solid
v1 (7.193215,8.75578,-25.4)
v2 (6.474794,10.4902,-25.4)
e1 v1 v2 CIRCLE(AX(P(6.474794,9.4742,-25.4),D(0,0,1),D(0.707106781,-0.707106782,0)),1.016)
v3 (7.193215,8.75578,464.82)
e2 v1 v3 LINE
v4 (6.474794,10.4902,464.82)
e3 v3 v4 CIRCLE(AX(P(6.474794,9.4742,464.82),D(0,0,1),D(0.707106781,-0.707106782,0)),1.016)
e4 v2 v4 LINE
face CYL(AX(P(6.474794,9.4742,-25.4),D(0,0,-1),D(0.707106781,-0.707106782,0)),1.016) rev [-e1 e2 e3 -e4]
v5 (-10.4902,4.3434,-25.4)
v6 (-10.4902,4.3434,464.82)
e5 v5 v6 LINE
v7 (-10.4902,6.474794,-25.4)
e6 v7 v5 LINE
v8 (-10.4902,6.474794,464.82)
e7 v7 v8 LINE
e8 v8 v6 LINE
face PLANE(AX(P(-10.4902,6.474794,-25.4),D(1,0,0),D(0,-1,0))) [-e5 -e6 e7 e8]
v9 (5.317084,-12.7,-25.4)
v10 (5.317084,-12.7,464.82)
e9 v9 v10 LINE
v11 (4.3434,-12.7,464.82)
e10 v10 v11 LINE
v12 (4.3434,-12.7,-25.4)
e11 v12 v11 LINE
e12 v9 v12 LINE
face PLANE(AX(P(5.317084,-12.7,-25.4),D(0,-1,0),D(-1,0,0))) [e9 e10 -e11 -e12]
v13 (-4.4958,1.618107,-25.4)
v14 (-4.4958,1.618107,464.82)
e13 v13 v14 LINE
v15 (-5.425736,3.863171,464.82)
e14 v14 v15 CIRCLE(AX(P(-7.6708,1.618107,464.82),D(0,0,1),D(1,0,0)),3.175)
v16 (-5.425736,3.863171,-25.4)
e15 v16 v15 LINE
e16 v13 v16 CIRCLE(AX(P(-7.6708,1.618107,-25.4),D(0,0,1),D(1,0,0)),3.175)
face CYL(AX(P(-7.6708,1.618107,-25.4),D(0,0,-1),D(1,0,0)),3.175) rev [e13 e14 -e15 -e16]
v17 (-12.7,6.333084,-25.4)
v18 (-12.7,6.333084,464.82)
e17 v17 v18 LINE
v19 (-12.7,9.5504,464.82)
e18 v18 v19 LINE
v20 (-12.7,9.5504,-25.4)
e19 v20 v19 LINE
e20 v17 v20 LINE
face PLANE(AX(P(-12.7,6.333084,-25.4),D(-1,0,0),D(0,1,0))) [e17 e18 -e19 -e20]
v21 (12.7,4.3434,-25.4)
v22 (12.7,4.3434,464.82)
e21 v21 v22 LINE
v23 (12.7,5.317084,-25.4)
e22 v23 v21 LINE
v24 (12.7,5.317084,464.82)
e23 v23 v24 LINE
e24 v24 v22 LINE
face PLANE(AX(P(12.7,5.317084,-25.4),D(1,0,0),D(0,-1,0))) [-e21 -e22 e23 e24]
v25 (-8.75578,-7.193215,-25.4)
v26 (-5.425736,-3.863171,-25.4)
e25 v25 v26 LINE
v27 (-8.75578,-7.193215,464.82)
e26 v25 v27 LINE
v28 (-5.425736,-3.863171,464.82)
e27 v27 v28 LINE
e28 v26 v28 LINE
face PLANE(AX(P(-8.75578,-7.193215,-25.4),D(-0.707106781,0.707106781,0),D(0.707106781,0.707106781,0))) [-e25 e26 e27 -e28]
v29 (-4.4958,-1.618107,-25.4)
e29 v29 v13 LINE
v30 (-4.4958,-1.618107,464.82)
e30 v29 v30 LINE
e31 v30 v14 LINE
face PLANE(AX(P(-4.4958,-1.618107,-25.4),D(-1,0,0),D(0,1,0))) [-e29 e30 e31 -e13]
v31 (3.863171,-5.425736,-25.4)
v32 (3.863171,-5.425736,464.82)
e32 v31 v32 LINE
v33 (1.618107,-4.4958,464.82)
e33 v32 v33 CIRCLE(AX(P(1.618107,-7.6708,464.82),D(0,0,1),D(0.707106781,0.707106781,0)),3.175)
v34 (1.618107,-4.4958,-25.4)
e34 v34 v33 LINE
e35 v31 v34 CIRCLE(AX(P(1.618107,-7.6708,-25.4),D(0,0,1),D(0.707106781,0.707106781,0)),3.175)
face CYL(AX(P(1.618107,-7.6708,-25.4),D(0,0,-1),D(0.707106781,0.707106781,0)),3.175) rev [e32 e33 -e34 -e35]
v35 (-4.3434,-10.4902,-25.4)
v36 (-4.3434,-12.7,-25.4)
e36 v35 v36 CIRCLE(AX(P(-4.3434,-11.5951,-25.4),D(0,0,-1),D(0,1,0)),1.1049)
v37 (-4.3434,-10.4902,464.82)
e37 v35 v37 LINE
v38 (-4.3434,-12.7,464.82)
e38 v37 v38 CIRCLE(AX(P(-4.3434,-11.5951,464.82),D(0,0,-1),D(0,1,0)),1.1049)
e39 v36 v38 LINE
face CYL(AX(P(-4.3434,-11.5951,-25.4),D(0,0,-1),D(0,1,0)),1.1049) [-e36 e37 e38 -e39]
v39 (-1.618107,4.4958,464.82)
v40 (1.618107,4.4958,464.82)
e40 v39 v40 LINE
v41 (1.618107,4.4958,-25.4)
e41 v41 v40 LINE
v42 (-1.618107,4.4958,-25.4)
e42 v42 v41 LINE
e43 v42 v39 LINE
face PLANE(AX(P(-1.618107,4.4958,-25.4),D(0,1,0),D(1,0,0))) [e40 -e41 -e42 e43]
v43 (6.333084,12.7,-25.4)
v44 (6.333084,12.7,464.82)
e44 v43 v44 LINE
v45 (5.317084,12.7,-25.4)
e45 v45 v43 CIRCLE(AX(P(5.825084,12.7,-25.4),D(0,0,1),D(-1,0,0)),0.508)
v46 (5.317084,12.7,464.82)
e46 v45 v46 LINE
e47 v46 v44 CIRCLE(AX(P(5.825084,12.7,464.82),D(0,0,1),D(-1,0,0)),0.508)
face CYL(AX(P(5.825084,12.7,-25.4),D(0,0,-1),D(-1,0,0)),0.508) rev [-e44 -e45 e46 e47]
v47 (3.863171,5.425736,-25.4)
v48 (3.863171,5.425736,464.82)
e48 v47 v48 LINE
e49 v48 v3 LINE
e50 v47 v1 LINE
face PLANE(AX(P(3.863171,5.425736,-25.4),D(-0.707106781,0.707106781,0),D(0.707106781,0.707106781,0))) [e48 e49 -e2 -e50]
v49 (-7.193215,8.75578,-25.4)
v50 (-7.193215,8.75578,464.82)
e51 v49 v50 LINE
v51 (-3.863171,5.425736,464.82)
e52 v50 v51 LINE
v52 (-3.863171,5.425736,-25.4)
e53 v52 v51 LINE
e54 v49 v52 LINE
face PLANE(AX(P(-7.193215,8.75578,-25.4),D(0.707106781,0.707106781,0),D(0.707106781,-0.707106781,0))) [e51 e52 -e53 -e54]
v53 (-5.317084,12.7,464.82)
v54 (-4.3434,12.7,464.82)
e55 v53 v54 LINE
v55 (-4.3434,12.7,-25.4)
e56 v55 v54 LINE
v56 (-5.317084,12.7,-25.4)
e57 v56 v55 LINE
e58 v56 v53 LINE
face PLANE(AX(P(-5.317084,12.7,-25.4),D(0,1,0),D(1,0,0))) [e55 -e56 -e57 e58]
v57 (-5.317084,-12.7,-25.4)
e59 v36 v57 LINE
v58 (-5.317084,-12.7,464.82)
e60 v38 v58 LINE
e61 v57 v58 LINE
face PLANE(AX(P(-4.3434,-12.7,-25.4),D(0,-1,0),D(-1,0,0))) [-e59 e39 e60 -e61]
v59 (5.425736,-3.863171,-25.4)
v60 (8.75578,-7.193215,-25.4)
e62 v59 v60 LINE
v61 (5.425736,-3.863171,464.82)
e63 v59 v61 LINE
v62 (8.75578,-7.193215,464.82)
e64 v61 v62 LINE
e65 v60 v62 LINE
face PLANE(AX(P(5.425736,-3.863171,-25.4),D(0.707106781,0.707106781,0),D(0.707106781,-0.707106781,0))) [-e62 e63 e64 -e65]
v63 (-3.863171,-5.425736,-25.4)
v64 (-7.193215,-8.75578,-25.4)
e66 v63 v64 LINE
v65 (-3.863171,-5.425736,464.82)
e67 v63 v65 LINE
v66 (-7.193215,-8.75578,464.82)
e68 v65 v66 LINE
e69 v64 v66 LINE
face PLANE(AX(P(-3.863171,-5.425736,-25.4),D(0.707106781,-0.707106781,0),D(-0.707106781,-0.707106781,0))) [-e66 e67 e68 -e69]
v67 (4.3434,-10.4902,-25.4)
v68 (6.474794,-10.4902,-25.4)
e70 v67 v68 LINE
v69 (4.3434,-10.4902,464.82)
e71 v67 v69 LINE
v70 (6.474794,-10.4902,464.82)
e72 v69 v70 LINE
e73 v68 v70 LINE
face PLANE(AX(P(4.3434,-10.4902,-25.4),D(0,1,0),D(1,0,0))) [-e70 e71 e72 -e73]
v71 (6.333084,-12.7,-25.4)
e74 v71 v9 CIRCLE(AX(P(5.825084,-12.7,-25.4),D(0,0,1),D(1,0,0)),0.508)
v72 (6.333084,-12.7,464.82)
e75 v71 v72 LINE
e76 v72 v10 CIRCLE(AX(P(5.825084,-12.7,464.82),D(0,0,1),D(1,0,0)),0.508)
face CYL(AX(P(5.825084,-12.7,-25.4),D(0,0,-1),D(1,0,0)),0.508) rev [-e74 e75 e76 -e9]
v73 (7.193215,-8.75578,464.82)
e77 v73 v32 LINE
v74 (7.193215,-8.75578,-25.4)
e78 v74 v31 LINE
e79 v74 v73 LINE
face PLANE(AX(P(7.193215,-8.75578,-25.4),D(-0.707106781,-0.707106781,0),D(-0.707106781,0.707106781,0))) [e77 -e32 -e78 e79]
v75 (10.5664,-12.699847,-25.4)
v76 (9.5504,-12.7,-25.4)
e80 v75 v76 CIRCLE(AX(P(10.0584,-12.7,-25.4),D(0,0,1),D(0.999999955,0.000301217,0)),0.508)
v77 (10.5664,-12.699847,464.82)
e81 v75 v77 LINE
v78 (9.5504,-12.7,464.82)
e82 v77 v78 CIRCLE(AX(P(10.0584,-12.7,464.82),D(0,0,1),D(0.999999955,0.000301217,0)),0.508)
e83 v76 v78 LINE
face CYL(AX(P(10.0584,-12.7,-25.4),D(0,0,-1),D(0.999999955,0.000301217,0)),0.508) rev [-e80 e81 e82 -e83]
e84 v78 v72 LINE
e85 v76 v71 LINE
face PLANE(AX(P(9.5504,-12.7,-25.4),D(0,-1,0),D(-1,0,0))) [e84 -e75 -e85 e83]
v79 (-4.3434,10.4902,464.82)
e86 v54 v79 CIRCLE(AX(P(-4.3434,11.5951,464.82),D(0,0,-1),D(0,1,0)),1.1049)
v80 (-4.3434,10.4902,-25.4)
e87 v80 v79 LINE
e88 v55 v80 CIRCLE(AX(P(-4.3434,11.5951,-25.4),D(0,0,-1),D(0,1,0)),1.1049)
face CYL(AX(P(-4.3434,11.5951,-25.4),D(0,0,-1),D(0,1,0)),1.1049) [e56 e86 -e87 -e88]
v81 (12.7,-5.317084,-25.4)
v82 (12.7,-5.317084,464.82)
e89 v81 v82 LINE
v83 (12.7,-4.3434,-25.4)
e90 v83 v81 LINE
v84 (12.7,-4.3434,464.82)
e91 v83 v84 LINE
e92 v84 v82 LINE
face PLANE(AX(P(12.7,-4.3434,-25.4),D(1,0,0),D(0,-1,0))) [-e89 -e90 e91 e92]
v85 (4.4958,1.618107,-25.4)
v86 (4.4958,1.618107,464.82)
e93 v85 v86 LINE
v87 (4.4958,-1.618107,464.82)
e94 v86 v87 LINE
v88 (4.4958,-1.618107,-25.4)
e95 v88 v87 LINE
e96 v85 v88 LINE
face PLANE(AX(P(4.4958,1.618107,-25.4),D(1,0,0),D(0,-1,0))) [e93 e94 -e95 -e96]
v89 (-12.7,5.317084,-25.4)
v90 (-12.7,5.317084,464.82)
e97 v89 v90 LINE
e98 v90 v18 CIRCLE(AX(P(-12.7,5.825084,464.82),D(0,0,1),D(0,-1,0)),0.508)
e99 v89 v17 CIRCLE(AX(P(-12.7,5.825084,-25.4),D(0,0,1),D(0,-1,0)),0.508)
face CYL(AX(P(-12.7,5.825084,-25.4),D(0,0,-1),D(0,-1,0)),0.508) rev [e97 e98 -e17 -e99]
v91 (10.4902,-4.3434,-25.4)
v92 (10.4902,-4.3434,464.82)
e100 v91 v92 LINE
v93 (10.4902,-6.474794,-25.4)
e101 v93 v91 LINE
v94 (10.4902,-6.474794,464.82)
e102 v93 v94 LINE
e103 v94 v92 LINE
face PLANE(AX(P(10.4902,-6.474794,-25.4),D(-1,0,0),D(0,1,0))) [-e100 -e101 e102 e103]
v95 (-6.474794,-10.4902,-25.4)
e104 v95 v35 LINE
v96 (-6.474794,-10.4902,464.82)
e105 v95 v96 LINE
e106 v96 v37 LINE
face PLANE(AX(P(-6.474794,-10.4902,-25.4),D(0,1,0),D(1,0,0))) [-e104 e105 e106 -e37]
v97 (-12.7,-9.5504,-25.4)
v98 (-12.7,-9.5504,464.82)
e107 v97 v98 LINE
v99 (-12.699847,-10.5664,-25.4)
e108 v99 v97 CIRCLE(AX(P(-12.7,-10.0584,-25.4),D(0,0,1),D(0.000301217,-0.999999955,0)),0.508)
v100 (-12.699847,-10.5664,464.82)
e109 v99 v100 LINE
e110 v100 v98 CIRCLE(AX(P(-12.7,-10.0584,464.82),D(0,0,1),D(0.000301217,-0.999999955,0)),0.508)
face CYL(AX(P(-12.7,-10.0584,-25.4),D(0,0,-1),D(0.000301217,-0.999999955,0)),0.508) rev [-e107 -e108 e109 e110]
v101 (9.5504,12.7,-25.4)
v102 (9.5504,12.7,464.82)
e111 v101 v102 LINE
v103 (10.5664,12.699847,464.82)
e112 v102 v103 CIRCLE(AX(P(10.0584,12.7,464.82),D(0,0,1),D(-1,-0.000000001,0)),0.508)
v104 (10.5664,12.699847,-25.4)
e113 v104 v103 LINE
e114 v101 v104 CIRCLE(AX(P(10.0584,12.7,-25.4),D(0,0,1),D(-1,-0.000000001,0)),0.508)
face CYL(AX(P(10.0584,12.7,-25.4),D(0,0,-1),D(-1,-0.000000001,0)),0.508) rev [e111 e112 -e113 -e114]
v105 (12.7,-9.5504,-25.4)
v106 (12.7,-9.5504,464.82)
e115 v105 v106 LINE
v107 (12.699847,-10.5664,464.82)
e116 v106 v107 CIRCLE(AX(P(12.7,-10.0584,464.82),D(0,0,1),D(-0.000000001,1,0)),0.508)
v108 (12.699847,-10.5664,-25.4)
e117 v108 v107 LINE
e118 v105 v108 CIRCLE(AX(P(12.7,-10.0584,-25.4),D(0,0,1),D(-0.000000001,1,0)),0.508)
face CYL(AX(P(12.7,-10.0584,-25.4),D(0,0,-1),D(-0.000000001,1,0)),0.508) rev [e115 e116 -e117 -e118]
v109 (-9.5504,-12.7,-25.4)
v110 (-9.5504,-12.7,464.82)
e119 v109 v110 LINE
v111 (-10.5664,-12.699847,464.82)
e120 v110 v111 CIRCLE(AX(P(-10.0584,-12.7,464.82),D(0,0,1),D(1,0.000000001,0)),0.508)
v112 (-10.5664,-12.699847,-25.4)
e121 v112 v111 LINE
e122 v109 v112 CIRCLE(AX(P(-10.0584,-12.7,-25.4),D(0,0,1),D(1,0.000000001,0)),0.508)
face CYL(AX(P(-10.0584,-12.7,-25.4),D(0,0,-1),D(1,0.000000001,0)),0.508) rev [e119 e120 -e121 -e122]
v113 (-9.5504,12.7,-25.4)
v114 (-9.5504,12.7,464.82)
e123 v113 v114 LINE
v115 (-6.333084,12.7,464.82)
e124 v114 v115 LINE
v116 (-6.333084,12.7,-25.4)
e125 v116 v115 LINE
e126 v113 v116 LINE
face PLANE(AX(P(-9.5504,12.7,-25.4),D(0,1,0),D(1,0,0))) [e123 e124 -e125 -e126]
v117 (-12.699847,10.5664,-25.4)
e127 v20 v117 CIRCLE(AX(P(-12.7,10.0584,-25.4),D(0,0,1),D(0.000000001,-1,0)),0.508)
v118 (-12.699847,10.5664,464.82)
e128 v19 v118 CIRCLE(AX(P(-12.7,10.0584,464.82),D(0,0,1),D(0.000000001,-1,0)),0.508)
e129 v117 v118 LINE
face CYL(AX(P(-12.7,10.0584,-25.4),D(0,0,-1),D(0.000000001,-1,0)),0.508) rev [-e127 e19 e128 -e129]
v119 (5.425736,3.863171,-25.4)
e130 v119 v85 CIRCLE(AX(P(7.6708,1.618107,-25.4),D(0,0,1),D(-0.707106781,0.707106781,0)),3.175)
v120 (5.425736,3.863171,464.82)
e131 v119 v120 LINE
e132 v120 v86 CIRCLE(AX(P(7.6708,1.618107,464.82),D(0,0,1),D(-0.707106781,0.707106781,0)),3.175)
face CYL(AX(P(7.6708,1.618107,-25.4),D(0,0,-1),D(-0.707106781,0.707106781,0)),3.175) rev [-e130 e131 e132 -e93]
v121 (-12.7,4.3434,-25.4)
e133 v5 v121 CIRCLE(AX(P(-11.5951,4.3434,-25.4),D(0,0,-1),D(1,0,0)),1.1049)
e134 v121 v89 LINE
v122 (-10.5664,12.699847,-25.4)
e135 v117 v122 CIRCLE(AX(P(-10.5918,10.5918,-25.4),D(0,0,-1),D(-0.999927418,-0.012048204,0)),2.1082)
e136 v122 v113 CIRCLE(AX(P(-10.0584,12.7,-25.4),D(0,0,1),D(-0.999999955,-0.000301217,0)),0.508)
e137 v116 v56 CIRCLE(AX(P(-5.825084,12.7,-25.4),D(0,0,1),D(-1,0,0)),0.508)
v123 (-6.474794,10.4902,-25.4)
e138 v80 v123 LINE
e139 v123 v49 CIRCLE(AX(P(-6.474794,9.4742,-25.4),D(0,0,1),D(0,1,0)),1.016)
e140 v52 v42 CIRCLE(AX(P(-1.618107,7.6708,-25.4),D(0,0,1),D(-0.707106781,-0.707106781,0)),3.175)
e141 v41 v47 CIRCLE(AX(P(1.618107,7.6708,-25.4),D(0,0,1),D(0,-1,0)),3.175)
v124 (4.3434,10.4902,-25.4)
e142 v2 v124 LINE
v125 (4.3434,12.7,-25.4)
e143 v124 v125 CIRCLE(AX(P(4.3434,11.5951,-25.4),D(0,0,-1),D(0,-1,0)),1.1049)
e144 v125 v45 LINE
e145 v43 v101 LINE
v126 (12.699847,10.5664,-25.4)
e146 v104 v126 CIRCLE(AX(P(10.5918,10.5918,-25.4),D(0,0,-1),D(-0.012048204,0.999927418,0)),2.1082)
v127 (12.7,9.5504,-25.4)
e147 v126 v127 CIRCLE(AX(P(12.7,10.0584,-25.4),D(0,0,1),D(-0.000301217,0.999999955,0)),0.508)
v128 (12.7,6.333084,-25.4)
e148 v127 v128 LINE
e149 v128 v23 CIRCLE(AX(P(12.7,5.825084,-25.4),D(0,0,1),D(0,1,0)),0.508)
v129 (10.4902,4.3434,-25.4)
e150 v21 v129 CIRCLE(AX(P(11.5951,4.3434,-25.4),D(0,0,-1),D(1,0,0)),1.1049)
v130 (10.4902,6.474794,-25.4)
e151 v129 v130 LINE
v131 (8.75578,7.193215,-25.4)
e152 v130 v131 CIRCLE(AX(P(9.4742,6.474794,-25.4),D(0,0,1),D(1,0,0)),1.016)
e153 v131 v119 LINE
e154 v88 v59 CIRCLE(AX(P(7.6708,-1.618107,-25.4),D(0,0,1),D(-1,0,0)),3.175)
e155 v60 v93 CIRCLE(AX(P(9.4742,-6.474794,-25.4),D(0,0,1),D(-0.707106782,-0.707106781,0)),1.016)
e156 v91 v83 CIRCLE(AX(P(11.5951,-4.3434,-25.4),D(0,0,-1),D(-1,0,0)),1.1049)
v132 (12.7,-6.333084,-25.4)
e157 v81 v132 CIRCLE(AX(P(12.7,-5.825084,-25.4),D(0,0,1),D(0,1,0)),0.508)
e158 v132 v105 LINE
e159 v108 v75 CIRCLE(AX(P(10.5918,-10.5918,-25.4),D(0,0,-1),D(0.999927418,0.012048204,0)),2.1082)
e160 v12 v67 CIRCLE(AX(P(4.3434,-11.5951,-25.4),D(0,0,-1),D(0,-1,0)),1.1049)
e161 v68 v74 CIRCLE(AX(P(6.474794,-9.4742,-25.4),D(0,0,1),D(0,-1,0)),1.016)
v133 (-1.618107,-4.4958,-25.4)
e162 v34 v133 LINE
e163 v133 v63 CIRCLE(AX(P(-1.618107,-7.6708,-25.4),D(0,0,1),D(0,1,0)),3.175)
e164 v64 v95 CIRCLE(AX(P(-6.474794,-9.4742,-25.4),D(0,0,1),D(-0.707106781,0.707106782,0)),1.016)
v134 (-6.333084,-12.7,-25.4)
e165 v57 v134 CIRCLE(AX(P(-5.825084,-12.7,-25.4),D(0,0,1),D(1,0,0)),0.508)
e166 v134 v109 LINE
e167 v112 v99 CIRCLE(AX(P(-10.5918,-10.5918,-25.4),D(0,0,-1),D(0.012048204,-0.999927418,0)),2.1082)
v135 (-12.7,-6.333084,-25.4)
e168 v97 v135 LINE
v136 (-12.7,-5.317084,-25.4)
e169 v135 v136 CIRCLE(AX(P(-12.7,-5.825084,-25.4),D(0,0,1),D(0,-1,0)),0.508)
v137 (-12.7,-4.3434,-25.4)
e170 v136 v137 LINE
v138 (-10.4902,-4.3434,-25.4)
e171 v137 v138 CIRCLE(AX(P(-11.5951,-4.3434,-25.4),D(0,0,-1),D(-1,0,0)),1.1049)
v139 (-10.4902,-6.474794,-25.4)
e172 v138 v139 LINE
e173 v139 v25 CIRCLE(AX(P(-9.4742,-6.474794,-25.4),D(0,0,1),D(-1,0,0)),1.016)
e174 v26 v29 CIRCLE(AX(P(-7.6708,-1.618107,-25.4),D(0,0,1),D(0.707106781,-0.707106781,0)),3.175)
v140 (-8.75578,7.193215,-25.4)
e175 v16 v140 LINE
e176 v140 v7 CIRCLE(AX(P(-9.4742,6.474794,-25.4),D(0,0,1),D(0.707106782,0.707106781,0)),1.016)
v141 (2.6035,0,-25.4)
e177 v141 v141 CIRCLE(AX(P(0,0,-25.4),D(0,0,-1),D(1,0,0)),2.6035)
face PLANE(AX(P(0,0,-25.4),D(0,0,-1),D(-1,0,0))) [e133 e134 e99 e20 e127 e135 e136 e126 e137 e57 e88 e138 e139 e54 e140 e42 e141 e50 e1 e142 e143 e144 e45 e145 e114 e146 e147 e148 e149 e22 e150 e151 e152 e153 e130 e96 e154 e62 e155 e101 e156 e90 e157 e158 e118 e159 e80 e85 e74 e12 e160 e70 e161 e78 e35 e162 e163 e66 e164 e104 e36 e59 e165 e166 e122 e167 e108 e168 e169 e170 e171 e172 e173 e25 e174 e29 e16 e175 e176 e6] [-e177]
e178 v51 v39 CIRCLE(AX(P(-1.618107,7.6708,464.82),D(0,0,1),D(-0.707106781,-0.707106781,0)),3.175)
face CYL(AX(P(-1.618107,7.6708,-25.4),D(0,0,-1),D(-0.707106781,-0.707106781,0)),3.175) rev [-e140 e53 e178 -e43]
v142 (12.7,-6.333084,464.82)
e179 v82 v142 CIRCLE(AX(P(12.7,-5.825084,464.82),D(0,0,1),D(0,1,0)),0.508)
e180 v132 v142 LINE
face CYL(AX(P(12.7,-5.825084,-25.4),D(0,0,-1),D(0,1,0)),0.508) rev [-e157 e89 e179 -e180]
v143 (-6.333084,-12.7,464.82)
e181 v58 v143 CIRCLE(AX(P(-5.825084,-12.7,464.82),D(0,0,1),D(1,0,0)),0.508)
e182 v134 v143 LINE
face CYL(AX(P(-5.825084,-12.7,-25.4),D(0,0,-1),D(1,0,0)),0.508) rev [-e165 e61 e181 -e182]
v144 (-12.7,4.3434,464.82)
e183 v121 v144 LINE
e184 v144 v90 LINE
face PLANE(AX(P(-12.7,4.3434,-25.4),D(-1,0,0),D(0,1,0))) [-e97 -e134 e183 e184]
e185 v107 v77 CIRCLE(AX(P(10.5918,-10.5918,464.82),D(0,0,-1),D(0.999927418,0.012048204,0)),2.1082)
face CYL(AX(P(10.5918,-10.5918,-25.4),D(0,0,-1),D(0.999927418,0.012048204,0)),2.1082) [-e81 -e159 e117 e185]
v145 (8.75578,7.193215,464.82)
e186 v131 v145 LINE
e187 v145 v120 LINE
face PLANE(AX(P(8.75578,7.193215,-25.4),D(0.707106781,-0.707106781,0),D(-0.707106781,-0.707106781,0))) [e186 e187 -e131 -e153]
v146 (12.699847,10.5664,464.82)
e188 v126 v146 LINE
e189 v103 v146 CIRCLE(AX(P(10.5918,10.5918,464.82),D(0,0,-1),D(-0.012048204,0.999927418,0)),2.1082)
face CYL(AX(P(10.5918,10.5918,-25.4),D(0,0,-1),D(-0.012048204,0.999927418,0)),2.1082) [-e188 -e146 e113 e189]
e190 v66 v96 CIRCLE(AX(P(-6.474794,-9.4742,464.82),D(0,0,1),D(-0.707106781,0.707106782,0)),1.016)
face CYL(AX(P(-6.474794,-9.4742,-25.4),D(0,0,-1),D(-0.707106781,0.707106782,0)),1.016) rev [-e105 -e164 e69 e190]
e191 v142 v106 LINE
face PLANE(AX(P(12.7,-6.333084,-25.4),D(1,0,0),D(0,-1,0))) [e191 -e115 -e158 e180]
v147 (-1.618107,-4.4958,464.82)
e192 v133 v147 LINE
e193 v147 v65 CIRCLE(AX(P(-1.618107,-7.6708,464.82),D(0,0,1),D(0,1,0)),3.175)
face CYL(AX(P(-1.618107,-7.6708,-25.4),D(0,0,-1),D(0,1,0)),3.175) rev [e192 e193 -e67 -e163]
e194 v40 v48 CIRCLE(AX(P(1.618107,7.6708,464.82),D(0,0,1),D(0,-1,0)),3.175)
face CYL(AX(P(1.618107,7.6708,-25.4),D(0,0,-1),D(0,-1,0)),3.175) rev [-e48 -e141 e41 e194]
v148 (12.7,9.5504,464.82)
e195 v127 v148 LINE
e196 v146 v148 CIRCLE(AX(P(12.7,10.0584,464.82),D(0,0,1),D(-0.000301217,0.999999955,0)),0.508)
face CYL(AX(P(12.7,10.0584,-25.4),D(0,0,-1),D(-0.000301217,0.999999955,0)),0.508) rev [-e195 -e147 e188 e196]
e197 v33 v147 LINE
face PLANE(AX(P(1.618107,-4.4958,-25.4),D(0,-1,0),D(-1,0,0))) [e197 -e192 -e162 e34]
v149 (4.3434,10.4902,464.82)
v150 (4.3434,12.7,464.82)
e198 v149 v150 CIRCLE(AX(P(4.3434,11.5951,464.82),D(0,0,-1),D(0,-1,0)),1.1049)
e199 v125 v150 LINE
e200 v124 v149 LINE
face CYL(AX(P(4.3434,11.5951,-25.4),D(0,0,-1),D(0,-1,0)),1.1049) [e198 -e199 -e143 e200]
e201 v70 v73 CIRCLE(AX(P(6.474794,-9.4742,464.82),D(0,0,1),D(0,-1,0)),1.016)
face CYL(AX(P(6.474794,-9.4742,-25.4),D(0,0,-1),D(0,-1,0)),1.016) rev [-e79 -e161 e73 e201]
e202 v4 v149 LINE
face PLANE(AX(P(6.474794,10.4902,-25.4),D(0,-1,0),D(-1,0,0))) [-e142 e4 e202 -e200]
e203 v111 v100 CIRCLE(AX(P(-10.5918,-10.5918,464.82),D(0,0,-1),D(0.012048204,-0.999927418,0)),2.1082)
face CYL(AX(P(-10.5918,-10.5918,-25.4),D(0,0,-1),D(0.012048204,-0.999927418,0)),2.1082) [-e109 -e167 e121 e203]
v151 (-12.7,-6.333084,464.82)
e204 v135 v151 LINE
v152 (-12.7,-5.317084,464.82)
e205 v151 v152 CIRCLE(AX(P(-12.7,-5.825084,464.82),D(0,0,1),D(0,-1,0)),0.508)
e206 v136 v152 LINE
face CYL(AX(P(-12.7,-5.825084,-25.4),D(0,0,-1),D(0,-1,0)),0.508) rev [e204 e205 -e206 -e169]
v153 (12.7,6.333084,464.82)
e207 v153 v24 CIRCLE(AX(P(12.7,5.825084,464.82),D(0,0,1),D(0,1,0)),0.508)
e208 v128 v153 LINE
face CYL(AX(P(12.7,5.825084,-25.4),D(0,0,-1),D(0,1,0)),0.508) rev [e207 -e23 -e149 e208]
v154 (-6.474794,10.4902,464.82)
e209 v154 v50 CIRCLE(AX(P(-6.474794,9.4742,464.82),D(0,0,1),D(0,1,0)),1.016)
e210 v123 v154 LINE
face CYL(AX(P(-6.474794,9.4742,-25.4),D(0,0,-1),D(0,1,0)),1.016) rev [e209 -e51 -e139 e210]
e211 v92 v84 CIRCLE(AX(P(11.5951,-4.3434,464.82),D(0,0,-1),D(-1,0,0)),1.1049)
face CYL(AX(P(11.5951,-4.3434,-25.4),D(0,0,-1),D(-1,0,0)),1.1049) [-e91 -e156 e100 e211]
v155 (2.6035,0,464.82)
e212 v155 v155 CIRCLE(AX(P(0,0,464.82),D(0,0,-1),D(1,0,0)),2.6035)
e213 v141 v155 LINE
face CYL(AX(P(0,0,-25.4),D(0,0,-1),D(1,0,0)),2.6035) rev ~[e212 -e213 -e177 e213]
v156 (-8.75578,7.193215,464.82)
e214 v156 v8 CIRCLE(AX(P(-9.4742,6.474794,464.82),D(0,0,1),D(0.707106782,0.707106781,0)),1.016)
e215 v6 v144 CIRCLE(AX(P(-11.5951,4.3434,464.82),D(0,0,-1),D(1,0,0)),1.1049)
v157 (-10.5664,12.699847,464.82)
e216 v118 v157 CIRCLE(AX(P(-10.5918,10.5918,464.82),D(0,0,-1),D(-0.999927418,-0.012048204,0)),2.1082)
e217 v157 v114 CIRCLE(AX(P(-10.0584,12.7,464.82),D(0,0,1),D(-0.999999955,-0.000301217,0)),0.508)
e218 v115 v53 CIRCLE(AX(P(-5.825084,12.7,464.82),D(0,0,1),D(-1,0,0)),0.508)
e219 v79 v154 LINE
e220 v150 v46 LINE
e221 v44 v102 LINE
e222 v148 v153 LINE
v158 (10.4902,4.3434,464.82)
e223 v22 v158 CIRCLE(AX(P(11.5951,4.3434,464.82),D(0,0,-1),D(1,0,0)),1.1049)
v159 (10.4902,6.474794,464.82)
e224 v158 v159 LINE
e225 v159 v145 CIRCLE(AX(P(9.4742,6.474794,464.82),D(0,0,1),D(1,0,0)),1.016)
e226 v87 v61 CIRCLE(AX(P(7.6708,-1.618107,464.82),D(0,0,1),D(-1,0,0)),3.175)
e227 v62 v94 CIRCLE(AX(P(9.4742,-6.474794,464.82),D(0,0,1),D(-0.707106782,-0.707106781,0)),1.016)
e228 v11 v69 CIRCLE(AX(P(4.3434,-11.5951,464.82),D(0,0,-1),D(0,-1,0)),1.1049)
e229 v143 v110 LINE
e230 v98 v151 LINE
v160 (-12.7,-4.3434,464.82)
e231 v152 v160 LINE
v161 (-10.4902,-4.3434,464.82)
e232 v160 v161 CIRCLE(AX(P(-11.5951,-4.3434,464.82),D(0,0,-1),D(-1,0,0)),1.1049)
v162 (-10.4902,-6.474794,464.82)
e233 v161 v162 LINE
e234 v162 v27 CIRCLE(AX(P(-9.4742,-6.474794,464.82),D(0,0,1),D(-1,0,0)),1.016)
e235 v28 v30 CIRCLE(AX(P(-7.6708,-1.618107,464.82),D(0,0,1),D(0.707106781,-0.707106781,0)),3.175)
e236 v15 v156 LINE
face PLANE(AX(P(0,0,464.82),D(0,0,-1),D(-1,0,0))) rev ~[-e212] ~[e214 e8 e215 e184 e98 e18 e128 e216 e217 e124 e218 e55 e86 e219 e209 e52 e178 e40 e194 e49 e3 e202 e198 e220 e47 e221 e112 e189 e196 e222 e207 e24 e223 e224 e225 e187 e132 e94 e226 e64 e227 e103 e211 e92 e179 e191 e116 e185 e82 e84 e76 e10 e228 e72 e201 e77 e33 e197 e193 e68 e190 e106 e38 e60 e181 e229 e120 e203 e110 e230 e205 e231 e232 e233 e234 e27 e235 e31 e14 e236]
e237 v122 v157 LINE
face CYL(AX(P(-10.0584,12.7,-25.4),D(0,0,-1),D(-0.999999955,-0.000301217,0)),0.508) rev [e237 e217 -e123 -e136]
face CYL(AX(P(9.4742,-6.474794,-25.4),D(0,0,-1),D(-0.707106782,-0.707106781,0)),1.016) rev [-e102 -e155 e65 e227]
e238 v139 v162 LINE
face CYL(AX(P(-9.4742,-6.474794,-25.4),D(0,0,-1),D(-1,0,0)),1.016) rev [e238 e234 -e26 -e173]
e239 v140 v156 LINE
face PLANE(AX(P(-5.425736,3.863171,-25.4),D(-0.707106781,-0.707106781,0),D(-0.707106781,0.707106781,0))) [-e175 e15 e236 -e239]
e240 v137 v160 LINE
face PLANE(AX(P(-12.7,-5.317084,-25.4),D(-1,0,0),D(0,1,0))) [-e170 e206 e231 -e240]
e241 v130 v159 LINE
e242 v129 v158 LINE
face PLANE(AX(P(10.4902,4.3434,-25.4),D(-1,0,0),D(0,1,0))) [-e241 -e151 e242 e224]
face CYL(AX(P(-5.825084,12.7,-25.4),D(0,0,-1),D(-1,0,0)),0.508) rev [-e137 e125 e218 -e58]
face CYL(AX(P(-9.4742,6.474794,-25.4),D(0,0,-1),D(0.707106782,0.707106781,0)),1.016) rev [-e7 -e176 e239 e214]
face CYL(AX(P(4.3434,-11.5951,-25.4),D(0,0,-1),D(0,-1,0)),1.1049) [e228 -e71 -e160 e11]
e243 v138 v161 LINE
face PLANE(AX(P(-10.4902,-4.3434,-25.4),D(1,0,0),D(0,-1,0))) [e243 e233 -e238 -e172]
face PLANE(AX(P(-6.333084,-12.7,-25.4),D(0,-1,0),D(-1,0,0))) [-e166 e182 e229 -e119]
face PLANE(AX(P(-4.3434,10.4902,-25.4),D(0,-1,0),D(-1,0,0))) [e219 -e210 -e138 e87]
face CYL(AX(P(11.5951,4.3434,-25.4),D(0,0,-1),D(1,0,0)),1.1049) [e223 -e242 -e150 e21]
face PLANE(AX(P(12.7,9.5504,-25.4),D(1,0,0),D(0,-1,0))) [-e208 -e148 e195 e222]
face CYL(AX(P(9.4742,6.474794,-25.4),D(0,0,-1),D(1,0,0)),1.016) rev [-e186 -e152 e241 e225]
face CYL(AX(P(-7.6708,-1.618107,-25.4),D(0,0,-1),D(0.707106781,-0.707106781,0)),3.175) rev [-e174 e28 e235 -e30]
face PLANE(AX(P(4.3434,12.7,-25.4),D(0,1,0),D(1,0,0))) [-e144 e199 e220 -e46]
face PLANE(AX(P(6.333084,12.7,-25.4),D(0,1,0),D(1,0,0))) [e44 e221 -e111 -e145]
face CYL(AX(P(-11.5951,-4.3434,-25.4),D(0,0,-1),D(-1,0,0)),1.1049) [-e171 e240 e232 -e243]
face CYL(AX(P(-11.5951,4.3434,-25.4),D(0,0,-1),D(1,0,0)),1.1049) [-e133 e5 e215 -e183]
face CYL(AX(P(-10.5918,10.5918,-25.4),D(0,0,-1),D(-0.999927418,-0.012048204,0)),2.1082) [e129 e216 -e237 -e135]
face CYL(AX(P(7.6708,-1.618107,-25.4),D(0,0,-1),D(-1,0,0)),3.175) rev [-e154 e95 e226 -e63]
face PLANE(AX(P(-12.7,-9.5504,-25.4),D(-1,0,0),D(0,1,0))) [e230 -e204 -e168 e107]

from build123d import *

# Parameters (mm, degrees)
SKETCH1_R           = 2.6035
BOSS_EXTRUDE1_DEPTH = 490.22


with BuildPart() as part:
    # Sketch1 → Boss-Extrude1 (new body)
    with BuildSketch(Plane(origin=(0, 0, -25.4), x_dir=(-1, 0, 0), z_dir=(0, 0, -1))):
        with BuildLine():
            Line((12.7, -9.5504), (12.7, -6.3330836))
            ThreePointArc((12.7, -6.3330836), (12.192, -5.8250836), (12.7, -5.3170836))
            Line((12.7, -5.3170836), (12.7, -4.3434))
            ThreePointArc((12.7, -4.3434), (11.5951, -3.2385), (10.4902, -4.3434))
            Line((10.4902, -4.3434), (10.4902, -6.474794456))
            ThreePointArc((10.4902, -6.474794456), (9.863006367, -7.413456061), (8.75577951, -7.193214945))
            Line((8.75577951, -7.193214945), (5.42573597, -3.863171405))
            ThreePointArc((5.42573597, -3.863171405), (4.737482484, -2.833127272), (4.4958, -1.618107374))
            Line((4.4958, -1.618107374), (4.4958, 1.618107374))
            ThreePointArc((4.4958, 1.618107374), (4.737482484, 2.833127272), (5.42573597, 3.863171405))
            Line((5.42573597, 3.863171405), (8.75577951, 7.193214945))
            ThreePointArc((8.75577951, 7.193214945), (9.863006367, 7.413456061), (10.4902, 6.474794456))
            Line((10.4902, 6.474794456), (10.4902, 4.343399971))
            ThreePointArc((10.4902, 4.343399971), (11.5951, 3.238499971), (12.7, 4.343399971))
            Line((12.7, 4.343399971), (12.7, 5.3170836))
            ThreePointArc((12.7, 5.3170836), (12.192, 5.8250836), (12.7, 6.3330836))
            Line((12.7, 6.3330836), (12.7, 9.5504))
            ThreePointArc((12.7, 9.5504), (12.192000006, 10.058323491), (12.699846982, 10.566399977))
            ThreePointArc((12.699846982, 10.566399977), (12.082522516, 12.082522516), (10.566399977, 12.699846982))
            ThreePointArc((10.566399977, 12.699846982), (10.058323491, 12.192000006), (9.5504, 12.7))
            Line((9.5504, 12.7), (6.3330836, 12.7))
            ThreePointArc((6.3330836, 12.7), (5.8250836, 12.192), (5.3170836, 12.7))
            Line((5.3170836, 12.7), (4.3434, 12.7))
            ThreePointArc((4.3434, 12.7), (3.2385, 11.5951), (4.3434, 10.4902))
            Line((4.3434, 10.4902), (6.474794456, 10.4902))
            ThreePointArc((6.474794456, 10.4902), (7.413456061, 9.863006367), (7.193214945, 8.75577951))
            Line((7.193214945, 8.75577951), (3.863171405, 5.42573597))
            ThreePointArc((3.863171405, 5.42573597), (2.833127272, 4.737482484), (1.618107374, 4.4958))
            Line((1.618107374, 4.4958), (-1.618107374, 4.4958))
            ThreePointArc((-1.618107374, 4.4958), (-2.833127272, 4.737482484), (-3.863171405, 5.42573597))
            Line((-3.863171405, 5.42573597), (-7.193214945, 8.75577951))
            ThreePointArc((-7.193214945, 8.75577951), (-7.413456061, 9.863006367), (-6.474794456, 10.4902))
            Line((-6.474794456, 10.4902), (-4.343399971, 10.4902))
            ThreePointArc((-4.343399971, 10.4902), (-3.238499971, 11.5951), (-4.343399971, 12.7))
            Line((-4.343399971, 12.7), (-5.3170836, 12.7))
            ThreePointArc((-5.3170836, 12.7), (-5.8250836, 12.192), (-6.3330836, 12.7))
            Line((-6.3330836, 12.7), (-9.5504, 12.7))
            ThreePointArc((-9.5504, 12.7), (-10.058323491, 12.192000006), (-10.566399977, 12.699846982))
            ThreePointArc((-10.566399977, 12.699846982), (-12.082522516, 12.082522516), (-12.699846982, 10.566399977))
            ThreePointArc((-12.699846982, 10.566399977), (-12.192000006, 10.058323491), (-12.7, 9.5504))
            Line((-12.7, 9.5504), (-12.7, 6.3330836))
            ThreePointArc((-12.7, 6.3330836), (-12.192, 5.8250836), (-12.7, 5.3170836))
            Line((-12.7, 5.3170836), (-12.7, 4.3434))
            ThreePointArc((-12.7, 4.3434), (-11.5951, 3.2385), (-10.4902, 4.3434))
            Line((-10.4902, 4.3434), (-10.4902, 6.474794456))
            ThreePointArc((-10.4902, 6.474794456), (-9.863006367, 7.413456061), (-8.75577951, 7.193214945))
            Line((-8.75577951, 7.193214945), (-5.42573597, 3.863171405))
            ThreePointArc((-5.42573597, 3.863171405), (-4.737482484, 2.833127272), (-4.4958, 1.618107374))
            Line((-4.4958, 1.618107374), (-4.4958, -1.618107374))
            ThreePointArc((-4.4958, -1.618107374), (-4.737482484, -2.833127272), (-5.42573597, -3.863171405))
            Line((-5.42573597, -3.863171405), (-8.75577951, -7.193214945))
            ThreePointArc((-8.75577951, -7.193214945), (-9.863006367, -7.413456061), (-10.4902, -6.474794456))
            Line((-10.4902, -6.474794456), (-10.4902, -4.343399971))
            ThreePointArc((-10.4902, -4.343399971), (-11.5951, -3.238499971), (-12.7, -4.343399971))
            Line((-12.7, -4.343399971), (-12.7, -5.3170836))
            ThreePointArc((-12.7, -5.3170836), (-12.192, -5.8250836), (-12.7, -6.3330836))
            Line((-12.7, -6.3330836), (-12.7, -9.5504))
            ThreePointArc((-12.7, -9.5504), (-12.192000006, -10.058323491), (-12.699846982, -10.566399977))
            ThreePointArc((-12.699846982, -10.566399977), (-12.082522516, -12.082522516), (-10.566399977, -12.699846982))
            ThreePointArc((-10.566399977, -12.699846982), (-10.058323491, -12.192000006), (-9.5504, -12.7))
            Line((-9.5504, -12.7), (-6.3330836, -12.7))
            ThreePointArc((-6.3330836, -12.7), (-5.8250836, -12.192), (-5.3170836, -12.7))
            Line((-5.3170836, -12.7), (-4.3434, -12.7))
            ThreePointArc((-4.3434, -12.7), (-3.2385, -11.5951), (-4.3434, -10.4902))
            Line((-4.3434, -10.4902), (-6.474794456, -10.4902))
            ThreePointArc((-6.474794456, -10.4902), (-7.413456061, -9.863006367), (-7.193214945, -8.75577951))
            Line((-7.193214945, -8.75577951), (-3.863171405, -5.42573597))
            ThreePointArc((-3.863171405, -5.42573597), (-2.833127272, -4.737482484), (-1.618107374, -4.4958))
            Line((-1.618107374, -4.4958), (1.618107374, -4.4958))
            ThreePointArc((1.618107374, -4.4958), (2.833127272, -4.737482484), (3.863171405, -5.42573597))
            Line((3.863171405, -5.42573597), (7.193214945, -8.75577951))
            ThreePointArc((7.193214945, -8.75577951), (7.413456061, -9.863006367), (6.474794456, -10.4902))
            Line((6.474794456, -10.4902), (4.343399971, -10.4902))
            ThreePointArc((4.343399971, -10.4902), (3.238499971, -11.5951), (4.343399971, -12.7))
            Line((4.343399971, -12.7), (5.3170836, -12.7))
            ThreePointArc((5.3170836, -12.7), (5.8250836, -12.192), (6.3330836, -12.7))
            Line((6.3330836, -12.7), (9.5504, -12.7))
            ThreePointArc((9.5504, -12.7), (10.058323491, -12.192000006), (10.566399977, -12.699846982))
            ThreePointArc((10.566399977, -12.699846982), (12.082522516, -12.082522516), (12.699846982, -10.566399977))
            ThreePointArc((12.699846982, -10.566399977), (12.192000006, -10.058323491), (12.7, -9.5504))
        make_face()
        with Locations(Location((0, 0, 0), (0, 0, 180))):
            Circle(SKETCH1_R, mode=Mode.SUBTRACT)
    extrude(amount=-BOSS_EXTRUDE1_DEPTH)


solid = part.part
